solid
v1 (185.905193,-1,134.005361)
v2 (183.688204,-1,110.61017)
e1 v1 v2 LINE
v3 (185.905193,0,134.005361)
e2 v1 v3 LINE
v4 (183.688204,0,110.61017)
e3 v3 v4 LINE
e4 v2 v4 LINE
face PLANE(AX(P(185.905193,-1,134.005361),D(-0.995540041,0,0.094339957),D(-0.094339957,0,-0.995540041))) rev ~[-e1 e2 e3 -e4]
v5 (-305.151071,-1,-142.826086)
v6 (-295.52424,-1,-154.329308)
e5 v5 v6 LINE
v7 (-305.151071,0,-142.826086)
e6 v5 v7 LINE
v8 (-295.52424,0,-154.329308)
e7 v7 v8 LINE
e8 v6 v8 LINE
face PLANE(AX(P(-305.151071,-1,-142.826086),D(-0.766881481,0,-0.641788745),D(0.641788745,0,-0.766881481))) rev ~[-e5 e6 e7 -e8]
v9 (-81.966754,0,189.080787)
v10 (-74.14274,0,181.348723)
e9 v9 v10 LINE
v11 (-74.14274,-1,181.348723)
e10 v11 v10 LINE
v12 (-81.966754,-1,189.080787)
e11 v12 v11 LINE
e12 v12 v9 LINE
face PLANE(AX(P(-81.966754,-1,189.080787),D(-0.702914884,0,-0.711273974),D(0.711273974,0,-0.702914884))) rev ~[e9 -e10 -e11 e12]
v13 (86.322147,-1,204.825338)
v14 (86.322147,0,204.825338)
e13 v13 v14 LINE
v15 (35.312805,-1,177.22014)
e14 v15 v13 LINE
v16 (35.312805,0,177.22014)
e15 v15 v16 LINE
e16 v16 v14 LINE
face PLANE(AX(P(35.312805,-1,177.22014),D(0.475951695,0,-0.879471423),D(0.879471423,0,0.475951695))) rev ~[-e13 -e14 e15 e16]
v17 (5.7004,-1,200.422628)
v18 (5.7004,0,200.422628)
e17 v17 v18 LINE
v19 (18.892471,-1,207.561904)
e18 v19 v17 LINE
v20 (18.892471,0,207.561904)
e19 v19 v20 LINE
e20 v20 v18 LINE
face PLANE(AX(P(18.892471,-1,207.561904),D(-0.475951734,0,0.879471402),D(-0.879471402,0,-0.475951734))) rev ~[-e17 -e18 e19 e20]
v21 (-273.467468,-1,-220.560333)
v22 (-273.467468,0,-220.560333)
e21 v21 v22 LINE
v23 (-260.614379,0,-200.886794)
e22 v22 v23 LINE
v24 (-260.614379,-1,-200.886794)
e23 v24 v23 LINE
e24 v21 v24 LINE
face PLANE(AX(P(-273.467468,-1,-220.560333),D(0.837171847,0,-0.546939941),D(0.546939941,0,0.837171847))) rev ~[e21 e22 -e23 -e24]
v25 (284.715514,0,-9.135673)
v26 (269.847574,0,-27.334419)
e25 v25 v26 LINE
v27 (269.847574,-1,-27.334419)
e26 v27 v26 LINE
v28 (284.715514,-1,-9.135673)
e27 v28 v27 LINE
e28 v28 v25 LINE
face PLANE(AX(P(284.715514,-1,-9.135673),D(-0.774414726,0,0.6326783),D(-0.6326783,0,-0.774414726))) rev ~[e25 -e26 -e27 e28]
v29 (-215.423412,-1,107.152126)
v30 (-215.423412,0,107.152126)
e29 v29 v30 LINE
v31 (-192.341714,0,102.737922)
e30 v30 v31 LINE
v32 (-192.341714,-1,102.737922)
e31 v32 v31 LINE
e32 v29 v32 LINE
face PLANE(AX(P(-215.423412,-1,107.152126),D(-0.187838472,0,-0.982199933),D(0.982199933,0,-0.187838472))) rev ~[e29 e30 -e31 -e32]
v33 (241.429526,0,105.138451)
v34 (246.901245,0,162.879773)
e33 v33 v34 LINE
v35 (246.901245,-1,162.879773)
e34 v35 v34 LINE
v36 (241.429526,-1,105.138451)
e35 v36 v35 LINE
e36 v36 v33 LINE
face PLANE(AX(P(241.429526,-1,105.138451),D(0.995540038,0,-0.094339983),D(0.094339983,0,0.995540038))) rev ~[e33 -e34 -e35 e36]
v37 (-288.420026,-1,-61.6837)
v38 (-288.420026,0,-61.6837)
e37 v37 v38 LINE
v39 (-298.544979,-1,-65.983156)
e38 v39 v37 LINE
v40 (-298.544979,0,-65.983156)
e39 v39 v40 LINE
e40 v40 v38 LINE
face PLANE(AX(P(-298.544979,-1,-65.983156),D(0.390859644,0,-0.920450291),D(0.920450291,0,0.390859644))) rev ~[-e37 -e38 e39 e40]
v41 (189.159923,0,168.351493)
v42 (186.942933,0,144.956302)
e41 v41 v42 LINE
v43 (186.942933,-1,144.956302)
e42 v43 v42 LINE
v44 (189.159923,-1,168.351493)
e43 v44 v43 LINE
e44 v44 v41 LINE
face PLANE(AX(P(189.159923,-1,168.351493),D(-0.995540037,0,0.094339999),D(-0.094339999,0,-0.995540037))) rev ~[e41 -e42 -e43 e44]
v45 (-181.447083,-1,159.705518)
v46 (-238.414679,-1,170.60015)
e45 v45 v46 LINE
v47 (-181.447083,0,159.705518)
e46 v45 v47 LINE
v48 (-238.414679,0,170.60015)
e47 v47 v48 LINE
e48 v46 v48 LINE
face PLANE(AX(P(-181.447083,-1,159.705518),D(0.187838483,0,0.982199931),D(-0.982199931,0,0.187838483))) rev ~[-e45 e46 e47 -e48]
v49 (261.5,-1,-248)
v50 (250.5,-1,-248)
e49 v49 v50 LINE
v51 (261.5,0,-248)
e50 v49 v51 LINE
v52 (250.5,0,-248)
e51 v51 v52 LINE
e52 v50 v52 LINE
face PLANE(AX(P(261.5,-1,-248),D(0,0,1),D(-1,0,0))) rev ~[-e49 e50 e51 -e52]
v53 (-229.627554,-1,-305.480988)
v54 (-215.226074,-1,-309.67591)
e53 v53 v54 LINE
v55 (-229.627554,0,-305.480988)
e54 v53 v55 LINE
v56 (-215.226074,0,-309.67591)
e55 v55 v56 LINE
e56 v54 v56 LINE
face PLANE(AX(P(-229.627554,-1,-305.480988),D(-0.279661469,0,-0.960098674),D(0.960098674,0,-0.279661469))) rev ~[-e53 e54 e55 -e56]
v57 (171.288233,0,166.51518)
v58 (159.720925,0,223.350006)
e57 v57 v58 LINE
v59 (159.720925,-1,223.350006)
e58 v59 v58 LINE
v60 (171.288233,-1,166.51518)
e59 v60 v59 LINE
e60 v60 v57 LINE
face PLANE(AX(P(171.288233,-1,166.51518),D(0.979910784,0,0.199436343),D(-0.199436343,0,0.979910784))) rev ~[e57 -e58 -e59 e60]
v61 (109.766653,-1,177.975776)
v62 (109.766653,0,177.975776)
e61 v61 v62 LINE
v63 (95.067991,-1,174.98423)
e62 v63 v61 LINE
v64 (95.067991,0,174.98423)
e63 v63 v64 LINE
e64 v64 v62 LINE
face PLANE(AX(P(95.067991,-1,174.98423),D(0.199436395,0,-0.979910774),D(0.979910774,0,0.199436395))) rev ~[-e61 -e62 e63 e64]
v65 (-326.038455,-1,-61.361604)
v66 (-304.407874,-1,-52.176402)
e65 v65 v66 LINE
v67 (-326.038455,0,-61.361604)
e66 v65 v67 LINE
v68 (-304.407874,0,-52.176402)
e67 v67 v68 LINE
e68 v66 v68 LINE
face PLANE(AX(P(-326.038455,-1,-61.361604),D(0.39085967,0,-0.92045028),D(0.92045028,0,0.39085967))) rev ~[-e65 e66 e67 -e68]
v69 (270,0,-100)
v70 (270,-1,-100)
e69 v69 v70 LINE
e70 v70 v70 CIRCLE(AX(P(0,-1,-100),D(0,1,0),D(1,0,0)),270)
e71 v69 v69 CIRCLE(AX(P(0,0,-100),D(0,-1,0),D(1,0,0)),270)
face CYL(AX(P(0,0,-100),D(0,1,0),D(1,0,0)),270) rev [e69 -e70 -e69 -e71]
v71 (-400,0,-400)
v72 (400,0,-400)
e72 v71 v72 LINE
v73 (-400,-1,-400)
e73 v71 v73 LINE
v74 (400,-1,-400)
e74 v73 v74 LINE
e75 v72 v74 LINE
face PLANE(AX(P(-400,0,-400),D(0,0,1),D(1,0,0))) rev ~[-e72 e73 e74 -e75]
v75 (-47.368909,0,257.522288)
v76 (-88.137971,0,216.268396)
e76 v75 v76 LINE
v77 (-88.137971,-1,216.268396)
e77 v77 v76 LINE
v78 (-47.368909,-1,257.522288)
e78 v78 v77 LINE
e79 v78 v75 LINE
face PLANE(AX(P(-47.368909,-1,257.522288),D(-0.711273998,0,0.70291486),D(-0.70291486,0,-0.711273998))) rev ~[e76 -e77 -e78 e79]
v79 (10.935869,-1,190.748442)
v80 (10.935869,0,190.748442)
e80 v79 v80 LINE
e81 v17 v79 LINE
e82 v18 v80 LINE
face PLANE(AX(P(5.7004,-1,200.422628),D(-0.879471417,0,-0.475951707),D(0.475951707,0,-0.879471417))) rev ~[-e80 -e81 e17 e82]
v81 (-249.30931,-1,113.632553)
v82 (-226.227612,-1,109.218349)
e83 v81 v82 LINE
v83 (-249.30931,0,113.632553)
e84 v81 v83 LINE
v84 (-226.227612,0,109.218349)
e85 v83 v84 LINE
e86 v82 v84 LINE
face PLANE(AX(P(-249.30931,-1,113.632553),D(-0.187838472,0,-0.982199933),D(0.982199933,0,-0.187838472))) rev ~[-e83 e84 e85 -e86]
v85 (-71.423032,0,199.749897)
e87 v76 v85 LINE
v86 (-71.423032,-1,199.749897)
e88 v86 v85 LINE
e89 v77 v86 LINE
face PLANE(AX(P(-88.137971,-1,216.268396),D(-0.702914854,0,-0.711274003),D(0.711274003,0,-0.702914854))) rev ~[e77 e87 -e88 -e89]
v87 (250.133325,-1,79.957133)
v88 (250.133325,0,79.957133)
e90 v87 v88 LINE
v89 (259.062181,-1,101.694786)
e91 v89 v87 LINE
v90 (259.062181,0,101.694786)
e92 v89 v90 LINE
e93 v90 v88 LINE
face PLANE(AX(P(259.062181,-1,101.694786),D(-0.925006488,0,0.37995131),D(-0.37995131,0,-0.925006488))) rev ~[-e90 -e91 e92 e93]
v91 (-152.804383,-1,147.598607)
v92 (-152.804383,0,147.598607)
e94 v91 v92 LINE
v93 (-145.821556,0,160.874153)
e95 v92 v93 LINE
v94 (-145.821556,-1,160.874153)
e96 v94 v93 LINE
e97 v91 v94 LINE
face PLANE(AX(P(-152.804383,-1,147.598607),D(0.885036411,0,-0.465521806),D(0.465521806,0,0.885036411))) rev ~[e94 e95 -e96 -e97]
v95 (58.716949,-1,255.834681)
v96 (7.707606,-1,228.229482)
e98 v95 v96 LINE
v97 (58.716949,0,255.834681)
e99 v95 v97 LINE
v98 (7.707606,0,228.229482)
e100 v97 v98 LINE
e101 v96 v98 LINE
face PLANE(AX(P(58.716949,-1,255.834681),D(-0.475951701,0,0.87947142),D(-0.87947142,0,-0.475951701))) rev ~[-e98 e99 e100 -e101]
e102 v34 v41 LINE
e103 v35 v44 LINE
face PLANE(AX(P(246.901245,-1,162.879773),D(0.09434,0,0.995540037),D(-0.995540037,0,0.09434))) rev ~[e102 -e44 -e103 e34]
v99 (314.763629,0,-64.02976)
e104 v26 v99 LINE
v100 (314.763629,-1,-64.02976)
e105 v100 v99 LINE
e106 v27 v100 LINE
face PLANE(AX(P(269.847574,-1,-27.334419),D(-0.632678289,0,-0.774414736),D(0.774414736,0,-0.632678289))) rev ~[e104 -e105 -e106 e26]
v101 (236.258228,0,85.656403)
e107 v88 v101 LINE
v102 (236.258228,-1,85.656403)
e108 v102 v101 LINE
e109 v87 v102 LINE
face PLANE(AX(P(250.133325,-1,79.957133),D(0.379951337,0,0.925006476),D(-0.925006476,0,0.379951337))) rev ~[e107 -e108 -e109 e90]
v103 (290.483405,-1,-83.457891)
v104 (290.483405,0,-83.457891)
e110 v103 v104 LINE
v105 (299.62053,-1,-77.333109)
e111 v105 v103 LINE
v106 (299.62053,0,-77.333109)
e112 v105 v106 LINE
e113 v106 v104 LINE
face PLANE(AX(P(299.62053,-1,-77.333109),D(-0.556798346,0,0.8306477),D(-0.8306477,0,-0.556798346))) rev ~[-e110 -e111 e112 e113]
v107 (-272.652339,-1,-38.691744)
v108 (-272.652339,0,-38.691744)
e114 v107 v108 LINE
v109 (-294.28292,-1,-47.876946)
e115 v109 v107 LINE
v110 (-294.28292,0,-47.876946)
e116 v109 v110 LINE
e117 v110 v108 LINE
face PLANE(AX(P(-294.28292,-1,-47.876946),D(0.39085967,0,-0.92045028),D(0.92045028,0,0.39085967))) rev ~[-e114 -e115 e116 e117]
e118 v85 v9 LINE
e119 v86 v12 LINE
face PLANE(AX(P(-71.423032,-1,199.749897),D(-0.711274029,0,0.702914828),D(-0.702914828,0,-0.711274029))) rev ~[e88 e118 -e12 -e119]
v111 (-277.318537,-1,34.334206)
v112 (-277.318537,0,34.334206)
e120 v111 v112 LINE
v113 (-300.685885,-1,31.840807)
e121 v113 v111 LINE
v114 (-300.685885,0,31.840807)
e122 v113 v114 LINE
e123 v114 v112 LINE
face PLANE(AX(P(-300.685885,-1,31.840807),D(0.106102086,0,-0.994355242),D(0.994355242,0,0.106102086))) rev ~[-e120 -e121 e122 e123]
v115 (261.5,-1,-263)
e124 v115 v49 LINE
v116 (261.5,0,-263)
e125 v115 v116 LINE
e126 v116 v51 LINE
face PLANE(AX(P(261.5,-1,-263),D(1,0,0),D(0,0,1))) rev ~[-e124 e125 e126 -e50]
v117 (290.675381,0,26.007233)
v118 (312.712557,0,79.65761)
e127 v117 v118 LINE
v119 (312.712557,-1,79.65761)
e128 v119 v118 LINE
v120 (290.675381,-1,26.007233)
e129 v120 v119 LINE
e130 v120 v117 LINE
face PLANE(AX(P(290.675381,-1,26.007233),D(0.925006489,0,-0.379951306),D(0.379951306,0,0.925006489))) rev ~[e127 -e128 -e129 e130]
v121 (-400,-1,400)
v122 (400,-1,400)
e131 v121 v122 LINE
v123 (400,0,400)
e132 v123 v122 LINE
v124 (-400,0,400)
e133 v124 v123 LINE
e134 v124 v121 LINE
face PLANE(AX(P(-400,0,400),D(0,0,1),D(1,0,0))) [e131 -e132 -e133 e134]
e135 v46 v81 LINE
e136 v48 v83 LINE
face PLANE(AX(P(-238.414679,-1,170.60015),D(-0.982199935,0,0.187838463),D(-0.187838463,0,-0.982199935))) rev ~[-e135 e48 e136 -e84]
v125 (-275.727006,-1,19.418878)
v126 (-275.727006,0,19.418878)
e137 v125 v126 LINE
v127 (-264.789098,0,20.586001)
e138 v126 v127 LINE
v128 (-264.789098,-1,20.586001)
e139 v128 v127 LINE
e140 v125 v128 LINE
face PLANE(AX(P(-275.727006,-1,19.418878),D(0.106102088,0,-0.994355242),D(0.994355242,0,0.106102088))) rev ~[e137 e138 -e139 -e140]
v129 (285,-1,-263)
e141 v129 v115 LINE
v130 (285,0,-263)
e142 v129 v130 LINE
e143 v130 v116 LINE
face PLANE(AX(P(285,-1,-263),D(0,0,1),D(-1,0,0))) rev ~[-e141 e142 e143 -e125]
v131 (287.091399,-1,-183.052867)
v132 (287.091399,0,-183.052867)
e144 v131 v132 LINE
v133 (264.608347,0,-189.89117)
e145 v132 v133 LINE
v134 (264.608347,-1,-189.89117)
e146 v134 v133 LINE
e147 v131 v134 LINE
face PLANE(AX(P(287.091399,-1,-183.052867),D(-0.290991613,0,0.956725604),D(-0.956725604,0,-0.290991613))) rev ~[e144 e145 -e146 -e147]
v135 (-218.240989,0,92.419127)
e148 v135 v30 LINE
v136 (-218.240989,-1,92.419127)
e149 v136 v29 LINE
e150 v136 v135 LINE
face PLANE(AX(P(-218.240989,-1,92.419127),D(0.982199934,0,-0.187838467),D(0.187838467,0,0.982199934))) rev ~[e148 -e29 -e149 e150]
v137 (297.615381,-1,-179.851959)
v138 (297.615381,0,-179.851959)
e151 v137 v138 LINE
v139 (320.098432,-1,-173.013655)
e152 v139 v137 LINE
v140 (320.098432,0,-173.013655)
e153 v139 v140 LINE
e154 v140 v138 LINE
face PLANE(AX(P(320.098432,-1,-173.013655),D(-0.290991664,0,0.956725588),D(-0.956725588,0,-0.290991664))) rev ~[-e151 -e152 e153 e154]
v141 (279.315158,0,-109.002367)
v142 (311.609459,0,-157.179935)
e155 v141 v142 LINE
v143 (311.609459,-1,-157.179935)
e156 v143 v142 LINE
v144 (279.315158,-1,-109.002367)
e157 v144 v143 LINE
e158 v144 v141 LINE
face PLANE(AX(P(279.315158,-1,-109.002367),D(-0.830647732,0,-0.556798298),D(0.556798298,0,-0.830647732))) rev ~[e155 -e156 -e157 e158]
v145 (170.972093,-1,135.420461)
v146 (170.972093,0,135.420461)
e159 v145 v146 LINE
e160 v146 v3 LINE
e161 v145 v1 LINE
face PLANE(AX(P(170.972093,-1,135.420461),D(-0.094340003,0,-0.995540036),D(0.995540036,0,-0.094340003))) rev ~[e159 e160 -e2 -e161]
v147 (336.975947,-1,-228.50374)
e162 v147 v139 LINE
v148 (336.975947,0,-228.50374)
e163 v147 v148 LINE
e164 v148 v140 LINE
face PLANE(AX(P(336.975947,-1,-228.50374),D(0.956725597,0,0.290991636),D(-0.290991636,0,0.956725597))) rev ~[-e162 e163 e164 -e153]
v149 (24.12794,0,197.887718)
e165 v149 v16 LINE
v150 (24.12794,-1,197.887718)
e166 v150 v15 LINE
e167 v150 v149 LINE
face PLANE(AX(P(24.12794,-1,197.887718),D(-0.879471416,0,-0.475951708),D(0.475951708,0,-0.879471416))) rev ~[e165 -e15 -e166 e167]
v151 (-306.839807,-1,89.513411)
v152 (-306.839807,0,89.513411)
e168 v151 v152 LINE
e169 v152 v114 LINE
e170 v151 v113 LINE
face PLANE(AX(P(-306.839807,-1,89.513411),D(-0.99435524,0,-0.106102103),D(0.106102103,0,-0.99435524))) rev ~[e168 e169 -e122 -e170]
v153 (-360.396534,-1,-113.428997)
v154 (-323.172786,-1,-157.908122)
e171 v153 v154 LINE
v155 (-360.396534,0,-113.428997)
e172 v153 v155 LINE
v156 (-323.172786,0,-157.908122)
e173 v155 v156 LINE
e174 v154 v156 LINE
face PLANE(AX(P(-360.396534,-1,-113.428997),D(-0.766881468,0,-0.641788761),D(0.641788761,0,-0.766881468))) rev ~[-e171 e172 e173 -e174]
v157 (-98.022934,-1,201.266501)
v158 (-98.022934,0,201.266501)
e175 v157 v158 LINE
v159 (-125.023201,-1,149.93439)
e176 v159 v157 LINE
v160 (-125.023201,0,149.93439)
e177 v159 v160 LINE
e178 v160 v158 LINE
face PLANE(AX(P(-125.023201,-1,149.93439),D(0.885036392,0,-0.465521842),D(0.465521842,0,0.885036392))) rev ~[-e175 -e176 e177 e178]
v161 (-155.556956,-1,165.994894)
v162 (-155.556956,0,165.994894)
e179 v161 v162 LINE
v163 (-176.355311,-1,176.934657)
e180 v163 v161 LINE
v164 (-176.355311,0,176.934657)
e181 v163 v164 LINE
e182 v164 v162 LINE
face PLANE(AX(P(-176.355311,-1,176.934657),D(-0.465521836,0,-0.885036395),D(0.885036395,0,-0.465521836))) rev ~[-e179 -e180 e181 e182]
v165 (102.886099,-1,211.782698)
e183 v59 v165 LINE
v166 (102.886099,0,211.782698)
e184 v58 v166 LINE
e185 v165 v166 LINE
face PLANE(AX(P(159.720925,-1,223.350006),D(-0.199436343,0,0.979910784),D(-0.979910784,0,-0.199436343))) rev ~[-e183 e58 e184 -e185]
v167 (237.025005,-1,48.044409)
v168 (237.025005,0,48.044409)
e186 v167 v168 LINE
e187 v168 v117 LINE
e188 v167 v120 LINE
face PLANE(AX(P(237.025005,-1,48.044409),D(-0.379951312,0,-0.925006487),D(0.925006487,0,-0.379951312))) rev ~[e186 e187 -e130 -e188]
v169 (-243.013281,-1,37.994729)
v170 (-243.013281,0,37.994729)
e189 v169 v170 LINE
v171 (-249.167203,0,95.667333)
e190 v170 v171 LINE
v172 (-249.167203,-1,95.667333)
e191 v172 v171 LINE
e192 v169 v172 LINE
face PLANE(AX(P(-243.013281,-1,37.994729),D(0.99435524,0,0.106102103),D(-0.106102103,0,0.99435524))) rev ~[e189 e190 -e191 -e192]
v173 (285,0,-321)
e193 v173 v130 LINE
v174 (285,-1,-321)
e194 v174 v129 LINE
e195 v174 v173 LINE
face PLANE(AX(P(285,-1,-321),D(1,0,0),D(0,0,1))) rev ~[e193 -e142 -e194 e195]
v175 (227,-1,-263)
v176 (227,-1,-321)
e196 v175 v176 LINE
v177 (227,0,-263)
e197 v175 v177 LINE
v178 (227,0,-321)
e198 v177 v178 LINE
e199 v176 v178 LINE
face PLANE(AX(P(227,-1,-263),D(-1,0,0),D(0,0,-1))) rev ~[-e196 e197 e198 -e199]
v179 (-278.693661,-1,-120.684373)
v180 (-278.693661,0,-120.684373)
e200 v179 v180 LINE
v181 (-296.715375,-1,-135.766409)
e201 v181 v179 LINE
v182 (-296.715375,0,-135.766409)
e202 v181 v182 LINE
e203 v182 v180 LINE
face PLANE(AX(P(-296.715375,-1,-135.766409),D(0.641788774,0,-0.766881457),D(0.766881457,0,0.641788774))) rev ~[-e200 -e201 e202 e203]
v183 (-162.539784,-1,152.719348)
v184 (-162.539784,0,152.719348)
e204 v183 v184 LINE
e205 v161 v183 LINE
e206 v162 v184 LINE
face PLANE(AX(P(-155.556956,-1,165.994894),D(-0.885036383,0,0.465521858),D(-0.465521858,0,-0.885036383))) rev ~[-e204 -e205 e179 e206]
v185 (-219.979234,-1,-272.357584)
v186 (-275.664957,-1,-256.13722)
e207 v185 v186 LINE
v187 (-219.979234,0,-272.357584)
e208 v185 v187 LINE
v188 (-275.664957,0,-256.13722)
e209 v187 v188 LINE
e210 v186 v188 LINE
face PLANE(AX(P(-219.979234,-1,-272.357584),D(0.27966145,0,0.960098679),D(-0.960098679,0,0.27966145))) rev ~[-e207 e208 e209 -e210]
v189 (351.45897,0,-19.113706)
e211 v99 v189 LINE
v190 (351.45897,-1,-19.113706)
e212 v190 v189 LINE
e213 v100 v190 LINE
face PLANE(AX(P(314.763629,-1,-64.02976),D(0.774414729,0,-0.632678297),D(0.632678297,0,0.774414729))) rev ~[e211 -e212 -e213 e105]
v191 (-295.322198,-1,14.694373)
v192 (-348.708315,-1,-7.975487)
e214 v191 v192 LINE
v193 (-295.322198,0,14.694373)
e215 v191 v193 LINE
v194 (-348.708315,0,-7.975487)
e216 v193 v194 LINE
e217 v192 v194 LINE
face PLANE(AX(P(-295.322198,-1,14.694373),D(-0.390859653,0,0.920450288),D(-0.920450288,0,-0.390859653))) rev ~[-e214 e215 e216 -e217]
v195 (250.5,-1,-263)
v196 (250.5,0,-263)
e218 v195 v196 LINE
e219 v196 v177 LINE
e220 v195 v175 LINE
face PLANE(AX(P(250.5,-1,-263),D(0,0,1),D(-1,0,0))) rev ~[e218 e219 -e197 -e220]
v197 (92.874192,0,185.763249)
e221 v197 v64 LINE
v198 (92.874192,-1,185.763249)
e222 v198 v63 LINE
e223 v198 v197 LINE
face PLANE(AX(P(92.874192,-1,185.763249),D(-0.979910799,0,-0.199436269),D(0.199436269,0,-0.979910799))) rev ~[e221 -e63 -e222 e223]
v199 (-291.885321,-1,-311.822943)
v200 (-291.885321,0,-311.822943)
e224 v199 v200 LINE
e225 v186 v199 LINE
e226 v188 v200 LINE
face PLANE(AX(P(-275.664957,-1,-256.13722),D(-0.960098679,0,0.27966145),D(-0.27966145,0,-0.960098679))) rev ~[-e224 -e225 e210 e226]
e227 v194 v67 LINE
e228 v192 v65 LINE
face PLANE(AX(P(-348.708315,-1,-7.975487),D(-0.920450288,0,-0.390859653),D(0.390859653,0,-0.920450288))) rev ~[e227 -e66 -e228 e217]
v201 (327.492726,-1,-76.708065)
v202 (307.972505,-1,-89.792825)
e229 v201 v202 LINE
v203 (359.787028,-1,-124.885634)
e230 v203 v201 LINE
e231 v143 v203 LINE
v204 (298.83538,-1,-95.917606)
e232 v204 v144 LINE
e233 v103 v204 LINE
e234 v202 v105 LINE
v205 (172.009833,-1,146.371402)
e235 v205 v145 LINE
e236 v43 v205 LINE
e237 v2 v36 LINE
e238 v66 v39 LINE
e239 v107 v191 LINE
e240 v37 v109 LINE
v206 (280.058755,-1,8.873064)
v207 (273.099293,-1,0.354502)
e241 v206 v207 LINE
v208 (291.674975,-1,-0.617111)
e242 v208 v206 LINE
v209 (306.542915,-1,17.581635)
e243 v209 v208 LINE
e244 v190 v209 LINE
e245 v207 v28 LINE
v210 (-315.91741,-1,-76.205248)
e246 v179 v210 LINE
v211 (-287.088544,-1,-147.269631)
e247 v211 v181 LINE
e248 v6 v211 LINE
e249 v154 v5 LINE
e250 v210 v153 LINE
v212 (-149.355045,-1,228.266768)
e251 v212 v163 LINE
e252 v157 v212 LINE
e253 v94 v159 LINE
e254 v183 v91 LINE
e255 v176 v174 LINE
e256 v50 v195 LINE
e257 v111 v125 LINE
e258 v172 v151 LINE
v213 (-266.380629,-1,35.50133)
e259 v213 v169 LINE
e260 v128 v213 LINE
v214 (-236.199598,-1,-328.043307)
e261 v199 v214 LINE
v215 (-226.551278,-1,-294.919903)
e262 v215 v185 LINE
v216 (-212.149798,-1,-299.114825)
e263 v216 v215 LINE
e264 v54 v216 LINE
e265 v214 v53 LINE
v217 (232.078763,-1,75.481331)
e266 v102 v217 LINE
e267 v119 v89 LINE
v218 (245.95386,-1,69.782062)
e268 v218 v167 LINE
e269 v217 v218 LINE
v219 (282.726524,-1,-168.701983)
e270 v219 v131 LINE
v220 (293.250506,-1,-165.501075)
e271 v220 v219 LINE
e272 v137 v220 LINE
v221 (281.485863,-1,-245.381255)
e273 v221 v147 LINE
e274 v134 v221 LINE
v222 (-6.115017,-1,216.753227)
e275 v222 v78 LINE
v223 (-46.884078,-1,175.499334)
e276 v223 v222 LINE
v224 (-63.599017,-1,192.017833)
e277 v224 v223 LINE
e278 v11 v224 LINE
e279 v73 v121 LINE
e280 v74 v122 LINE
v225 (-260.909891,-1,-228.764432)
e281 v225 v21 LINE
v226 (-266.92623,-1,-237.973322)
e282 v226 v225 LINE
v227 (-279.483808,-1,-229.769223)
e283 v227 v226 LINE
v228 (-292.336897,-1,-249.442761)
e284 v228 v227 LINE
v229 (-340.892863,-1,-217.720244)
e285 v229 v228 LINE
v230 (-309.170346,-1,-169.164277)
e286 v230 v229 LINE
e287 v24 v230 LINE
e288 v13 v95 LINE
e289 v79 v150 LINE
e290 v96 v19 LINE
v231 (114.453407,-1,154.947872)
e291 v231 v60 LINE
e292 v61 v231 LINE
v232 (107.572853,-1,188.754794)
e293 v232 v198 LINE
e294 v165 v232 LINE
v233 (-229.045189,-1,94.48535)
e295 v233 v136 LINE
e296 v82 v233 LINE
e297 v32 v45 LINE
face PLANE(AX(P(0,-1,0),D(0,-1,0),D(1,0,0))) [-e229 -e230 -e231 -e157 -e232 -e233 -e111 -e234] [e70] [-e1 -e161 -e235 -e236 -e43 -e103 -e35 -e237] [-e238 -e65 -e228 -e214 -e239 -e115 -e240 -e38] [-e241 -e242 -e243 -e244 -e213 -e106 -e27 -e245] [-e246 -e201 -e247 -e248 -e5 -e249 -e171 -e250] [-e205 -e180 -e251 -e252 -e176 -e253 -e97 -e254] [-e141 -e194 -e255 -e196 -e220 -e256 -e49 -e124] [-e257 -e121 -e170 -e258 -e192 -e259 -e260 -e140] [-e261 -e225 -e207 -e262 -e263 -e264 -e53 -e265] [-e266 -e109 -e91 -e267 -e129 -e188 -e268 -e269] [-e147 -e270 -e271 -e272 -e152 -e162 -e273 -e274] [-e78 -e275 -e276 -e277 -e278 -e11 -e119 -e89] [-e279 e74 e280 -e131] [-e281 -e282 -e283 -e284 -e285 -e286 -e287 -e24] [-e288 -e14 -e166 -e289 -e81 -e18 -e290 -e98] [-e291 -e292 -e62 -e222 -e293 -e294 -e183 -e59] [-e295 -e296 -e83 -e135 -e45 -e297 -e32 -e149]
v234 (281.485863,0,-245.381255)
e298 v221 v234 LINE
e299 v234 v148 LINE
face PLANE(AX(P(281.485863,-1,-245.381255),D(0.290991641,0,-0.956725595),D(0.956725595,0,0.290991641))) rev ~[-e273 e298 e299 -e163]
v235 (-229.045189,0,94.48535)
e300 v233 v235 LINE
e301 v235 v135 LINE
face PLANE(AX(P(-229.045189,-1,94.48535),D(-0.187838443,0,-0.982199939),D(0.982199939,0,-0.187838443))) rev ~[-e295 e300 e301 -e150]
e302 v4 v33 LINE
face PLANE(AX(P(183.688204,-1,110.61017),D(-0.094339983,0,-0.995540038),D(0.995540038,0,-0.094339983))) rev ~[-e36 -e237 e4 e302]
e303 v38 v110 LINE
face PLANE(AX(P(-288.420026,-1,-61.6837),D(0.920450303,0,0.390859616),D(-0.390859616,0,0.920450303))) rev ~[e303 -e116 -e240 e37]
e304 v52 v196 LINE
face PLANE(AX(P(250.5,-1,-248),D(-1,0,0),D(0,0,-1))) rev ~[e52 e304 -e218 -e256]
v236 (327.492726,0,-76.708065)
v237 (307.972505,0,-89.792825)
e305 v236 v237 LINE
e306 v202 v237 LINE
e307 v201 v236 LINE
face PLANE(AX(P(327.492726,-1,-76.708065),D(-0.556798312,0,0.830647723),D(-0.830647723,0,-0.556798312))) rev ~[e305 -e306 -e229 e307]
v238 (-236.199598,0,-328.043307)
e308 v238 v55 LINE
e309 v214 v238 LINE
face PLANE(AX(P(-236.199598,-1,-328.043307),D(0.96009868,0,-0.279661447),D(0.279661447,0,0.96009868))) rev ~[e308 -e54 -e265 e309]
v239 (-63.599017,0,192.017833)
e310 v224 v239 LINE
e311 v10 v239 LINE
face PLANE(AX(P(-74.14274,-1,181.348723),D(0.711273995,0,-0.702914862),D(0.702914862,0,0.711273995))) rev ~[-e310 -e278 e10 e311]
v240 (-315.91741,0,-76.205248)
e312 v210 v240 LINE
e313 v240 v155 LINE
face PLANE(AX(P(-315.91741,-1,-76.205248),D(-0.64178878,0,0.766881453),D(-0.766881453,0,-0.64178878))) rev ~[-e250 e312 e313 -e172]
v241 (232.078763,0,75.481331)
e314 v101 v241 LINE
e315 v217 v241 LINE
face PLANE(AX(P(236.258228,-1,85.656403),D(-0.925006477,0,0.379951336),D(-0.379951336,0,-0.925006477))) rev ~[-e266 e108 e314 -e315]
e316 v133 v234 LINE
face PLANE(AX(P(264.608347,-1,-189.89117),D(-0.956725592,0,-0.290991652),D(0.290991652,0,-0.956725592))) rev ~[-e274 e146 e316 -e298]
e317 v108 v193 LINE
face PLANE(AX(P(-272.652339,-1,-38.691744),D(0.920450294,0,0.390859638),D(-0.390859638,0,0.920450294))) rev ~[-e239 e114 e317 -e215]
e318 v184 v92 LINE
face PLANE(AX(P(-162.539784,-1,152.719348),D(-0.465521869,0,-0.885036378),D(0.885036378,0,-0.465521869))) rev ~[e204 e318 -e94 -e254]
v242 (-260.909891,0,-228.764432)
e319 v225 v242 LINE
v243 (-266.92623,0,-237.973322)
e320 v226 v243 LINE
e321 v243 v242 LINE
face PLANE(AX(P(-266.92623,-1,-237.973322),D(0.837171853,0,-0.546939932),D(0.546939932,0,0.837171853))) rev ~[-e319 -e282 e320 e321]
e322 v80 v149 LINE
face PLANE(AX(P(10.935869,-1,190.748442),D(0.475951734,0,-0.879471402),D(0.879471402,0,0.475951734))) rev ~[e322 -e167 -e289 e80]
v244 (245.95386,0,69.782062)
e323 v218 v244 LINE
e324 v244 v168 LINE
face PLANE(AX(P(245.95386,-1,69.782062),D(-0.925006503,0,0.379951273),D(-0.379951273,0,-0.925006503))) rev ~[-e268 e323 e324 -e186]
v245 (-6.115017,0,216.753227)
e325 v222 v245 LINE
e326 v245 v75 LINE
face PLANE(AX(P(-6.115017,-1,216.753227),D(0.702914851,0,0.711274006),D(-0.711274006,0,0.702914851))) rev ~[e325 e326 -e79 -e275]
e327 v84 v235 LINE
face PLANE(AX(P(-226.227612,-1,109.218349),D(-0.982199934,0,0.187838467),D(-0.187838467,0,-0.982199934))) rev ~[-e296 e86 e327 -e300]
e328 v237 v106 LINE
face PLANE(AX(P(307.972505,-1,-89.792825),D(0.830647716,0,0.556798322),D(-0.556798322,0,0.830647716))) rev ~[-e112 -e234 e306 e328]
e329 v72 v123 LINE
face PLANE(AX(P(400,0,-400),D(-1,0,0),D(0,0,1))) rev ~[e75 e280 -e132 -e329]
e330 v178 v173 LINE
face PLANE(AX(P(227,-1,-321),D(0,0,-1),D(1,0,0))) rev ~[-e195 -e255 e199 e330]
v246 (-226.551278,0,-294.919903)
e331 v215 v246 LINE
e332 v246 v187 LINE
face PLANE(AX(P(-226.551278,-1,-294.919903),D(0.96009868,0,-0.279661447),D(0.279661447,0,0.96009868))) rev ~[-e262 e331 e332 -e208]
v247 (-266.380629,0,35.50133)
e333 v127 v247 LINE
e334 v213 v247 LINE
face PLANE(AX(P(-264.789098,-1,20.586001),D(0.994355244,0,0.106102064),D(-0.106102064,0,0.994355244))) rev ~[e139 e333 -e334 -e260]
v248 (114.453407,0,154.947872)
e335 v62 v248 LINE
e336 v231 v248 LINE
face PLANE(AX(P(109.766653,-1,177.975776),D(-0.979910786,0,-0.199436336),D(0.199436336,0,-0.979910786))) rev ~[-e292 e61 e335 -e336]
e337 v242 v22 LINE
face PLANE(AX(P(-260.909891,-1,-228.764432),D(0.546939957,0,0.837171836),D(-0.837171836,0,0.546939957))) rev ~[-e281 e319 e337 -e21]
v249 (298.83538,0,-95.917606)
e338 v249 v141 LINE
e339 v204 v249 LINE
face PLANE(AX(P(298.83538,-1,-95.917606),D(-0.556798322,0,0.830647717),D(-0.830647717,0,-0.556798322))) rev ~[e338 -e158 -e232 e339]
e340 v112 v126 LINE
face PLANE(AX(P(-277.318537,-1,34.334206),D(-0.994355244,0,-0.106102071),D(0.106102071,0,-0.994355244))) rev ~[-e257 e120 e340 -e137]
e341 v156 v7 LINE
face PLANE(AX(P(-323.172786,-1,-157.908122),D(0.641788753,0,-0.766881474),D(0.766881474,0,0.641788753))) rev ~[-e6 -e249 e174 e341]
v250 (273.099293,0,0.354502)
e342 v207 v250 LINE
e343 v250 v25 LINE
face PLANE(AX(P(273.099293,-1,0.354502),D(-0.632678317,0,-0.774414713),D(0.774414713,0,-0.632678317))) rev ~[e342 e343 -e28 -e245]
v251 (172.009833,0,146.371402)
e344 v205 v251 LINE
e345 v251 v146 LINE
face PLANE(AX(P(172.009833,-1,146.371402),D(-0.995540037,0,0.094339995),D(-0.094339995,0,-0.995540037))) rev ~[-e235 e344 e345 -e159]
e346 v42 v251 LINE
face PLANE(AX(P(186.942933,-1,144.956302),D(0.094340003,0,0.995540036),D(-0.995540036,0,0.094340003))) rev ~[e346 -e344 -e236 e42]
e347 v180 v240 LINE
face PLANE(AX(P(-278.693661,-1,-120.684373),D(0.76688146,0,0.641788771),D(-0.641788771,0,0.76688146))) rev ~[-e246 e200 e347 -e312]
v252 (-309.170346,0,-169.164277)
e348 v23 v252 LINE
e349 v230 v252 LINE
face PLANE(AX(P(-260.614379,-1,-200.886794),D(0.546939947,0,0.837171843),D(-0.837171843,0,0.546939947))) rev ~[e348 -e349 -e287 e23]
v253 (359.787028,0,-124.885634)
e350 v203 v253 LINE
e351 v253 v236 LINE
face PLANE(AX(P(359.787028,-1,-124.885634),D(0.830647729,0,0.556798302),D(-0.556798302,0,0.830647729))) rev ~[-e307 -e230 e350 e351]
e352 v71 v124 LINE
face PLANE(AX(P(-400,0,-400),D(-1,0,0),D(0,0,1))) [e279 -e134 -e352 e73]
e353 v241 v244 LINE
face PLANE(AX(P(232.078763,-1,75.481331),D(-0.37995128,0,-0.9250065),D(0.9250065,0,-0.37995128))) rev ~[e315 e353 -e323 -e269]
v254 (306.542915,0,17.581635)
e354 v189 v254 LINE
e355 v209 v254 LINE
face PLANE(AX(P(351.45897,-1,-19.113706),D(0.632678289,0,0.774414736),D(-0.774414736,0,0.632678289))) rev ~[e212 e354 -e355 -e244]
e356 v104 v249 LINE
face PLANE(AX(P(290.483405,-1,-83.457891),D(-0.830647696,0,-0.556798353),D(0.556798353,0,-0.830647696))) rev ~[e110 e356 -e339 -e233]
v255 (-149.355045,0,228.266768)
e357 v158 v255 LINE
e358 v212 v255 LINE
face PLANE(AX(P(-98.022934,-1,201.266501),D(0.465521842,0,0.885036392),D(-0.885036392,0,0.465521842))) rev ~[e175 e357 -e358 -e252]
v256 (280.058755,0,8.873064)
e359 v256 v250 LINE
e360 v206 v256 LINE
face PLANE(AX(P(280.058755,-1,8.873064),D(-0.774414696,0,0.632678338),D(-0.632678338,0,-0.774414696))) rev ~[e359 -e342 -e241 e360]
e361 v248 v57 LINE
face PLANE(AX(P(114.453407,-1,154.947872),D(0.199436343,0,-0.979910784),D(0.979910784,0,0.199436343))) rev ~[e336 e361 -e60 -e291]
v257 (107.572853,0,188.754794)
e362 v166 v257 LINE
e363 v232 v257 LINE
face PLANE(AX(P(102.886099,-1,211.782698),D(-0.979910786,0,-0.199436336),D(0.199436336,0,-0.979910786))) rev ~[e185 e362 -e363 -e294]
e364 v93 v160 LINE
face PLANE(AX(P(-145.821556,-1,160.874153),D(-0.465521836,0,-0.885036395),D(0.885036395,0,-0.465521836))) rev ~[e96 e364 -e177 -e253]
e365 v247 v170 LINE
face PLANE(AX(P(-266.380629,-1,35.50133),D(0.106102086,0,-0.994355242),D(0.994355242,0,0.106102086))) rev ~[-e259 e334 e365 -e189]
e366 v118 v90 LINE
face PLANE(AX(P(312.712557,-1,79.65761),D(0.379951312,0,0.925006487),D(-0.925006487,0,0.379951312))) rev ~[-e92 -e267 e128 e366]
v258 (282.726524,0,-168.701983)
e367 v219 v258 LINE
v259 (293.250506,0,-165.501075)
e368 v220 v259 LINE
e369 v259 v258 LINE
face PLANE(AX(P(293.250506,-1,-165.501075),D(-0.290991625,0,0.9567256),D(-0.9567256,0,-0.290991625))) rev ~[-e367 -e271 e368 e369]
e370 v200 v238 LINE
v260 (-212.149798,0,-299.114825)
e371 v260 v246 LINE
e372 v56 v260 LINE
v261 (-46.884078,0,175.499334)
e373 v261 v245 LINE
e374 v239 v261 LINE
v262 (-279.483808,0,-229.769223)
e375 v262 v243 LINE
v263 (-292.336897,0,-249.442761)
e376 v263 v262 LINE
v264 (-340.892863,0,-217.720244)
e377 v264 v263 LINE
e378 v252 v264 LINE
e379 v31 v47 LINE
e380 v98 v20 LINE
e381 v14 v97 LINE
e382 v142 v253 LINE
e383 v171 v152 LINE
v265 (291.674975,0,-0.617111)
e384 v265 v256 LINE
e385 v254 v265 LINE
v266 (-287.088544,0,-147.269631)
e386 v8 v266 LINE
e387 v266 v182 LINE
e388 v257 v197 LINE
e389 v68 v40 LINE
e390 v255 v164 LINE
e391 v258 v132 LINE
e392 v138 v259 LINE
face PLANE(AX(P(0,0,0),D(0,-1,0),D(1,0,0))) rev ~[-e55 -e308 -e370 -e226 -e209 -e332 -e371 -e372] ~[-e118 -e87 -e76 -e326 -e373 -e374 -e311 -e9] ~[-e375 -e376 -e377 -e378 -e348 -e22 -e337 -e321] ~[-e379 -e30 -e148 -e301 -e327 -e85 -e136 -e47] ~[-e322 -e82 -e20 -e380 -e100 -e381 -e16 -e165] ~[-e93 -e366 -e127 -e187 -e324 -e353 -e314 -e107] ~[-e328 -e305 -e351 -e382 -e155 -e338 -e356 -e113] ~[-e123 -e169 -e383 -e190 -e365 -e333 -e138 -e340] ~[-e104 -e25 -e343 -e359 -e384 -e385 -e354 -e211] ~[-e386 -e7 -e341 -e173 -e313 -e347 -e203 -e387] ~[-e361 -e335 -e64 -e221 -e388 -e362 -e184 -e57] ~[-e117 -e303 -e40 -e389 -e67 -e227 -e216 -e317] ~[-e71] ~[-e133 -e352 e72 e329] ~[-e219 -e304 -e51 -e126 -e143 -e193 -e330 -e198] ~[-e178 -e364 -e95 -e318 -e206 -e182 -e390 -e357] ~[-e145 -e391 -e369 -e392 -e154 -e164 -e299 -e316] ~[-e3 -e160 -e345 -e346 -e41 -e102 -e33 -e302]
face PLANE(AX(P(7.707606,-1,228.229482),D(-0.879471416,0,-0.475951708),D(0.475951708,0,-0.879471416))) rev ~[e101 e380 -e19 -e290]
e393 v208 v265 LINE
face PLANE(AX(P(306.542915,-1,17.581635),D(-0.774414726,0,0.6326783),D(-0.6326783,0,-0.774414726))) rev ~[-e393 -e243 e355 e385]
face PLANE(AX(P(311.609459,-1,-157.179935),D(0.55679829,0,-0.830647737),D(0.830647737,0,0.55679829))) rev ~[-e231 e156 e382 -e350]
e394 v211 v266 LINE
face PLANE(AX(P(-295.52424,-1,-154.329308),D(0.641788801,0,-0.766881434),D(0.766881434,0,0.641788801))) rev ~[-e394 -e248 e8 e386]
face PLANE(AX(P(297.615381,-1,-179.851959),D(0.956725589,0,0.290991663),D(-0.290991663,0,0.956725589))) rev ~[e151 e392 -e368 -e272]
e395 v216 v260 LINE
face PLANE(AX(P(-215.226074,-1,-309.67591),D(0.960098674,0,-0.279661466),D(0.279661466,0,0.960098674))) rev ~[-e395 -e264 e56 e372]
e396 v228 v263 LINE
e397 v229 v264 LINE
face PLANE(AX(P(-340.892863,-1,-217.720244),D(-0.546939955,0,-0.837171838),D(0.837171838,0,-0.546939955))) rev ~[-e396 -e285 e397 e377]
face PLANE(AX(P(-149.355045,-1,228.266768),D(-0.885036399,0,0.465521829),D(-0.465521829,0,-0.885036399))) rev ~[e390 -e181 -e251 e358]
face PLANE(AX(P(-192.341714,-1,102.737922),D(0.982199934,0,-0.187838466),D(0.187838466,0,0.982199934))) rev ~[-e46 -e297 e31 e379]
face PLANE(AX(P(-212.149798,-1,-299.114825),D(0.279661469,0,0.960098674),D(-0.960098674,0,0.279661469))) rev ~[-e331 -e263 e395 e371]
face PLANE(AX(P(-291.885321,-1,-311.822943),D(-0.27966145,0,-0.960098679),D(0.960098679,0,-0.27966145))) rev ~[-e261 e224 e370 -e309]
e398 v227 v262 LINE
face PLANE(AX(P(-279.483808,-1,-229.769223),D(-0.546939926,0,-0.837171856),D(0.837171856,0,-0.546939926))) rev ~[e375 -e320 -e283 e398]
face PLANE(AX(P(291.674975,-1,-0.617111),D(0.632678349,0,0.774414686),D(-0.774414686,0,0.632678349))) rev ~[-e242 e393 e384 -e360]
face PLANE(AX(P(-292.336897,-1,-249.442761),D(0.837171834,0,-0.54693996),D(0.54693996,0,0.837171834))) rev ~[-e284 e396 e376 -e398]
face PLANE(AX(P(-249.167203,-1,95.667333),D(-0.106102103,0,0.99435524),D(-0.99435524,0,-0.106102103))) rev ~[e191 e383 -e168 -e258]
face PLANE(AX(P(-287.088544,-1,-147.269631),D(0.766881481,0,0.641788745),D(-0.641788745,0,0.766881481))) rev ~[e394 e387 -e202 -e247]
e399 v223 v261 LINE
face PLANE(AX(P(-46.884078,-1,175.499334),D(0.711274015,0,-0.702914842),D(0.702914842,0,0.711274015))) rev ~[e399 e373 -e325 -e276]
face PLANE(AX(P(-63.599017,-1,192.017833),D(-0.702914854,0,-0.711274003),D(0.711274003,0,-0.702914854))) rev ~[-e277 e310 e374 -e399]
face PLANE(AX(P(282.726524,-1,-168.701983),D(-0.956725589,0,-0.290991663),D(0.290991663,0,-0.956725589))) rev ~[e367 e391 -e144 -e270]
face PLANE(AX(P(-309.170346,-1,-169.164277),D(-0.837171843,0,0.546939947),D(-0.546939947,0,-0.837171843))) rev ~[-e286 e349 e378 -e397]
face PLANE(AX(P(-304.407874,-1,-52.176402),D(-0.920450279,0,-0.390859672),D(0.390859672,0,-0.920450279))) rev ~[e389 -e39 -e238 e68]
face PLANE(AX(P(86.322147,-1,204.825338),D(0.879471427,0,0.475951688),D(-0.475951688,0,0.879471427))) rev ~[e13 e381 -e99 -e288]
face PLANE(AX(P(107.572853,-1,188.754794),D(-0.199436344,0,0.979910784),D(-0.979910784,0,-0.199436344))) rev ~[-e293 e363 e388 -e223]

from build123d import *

# Parameters (mm, degrees)
F0_W     = 800
F0_H     = 800
F1_DEPTH = 1
F2_R     = 270
F3_DEPTH = 3
F5_DEPTH = 1


with BuildPart() as f1:
    # F0 (on Front) → F1 (new body)
    with BuildSketch(Plane.XZ):
        Rectangle(F0_W, F0_H)
    extrude(amount=F1_DEPTH)

    # F2 (on Front) → F3 (cut)
    with BuildSketch(Plane.XZ):
        with Locations((0, -100)):
            Circle(F2_R)
    extrude(amount=F3_DEPTH, mode=Mode.SUBTRACT)

    # F4 (on face) → F5 (cut, through all)
    with BuildSketch(Plane.XZ.offset(1)):
        Polygon((250.5, -263), (227, -263), (227, -321), (285, -321), (285, -263), (261.5, -263), (261.5, -248), (250.5, -248), align=None)
        Polygon((320.098432, -173.013655), (297.615381, -179.851959), (293.250506, -165.501075), (282.726524, -168.701983), (287.091399, -183.052867), (264.608347, -189.89117), (281.485863, -245.381255), (336.975947, -228.50374), align=None)
        Polygon((327.492726, -76.708065), (307.972505, -89.792825), (299.62053, -77.333109), (290.483405, -83.457891), (298.83538, -95.917606), (279.315158, -109.002367), (311.609459, -157.179935), (359.787028, -124.885634), align=None)
        Polygon((306.542915, 17.581635), (291.674975, -0.617111), (280.058755, 8.873064), (273.099293, 0.354502), (284.715514, -9.135673), (269.847574, -27.334419), (314.763629, -64.02976), (351.45897, -19.113706), align=None)
        Polygon((259.062181, 101.694786), (250.133325, 79.957133), (236.258228, 85.656403), (232.078763, 75.481331), (245.95386, 69.782062), (237.025005, 48.044409), (290.675381, 26.007233), (312.712557, 79.65761), align=None)
        Polygon((189.159923, 168.351493), (186.942933, 144.956302), (172.009833, 146.371402), (170.972093, 135.420461), (185.905193, 134.005361), (183.688204, 110.61017), (241.429526, 105.138451), (246.901245, 162.879773), align=None)
        Polygon((102.886099, 211.782698), (107.572853, 188.754794), (92.874192, 185.763249), (95.067991, 174.98423), (109.766653, 177.975776), (114.453407, 154.947872), (171.288233, 166.51518), (159.720925, 223.350006), align=None)
        Polygon((7.707606, 228.229482), (18.892471, 207.561904), (5.7004, 200.422628), (10.935869, 190.748442), (24.12794, 197.887718), (35.312805, 177.22014), (86.322147, 204.825338), (58.716949, 255.834681), align=None)
        Polygon((-88.137971, 216.268396), (-71.423032, 199.749897), (-81.966754, 189.080787), (-74.14274, 181.348723), (-63.599017, 192.017833), (-46.884078, 175.499334), (-6.115017, 216.753227), (-47.368909, 257.522288), align=None)
        Polygon((-176.355311, 176.934657), (-155.556956, 165.994894), (-162.539784, 152.719348), (-152.804383, 147.598607), (-145.821556, 160.874153), (-125.023201, 149.93439), (-98.022934, 201.266501), (-149.355045, 228.266768), align=None)
        Polygon((-249.30931, 113.632553), (-226.227612, 109.218349), (-229.045189, 94.48535), (-218.240989, 92.419127), (-215.423412, 107.152126), (-192.341714, 102.737922), (-181.447083, 159.705518), (-238.414679, 170.60015), align=None)
        Polygon((-300.685885, 31.840807), (-277.318537, 34.334206), (-275.727006, 19.418878), (-264.789098, 20.586001), (-266.380629, 35.50133), (-243.013281, 37.994729), (-249.167203, 95.667333), (-306.839807, 89.513411), align=None)
        Polygon((-326.038455, -61.361604), (-304.407874, -52.176402), (-298.544979, -65.983156), (-288.420026, -61.6837), (-294.28292, -47.876946), (-272.652339, -38.691744), (-295.322198, 14.694373), (-348.708315, -7.975487), align=None)
        Polygon((-323.172786, -157.908122), (-305.151071, -142.826086), (-295.52424, -154.329308), (-287.088544, -147.269631), (-296.715375, -135.766409), (-278.693661, -120.684373), (-315.91741, -76.205248), (-360.396534, -113.428997), align=None)
        Polygon((-292.336897, -249.442761), (-279.483808, -229.769223), (-266.92623, -237.973322), (-260.909891, -228.764432), (-273.467468, -220.560333), (-260.614379, -200.886794), (-309.170346, -169.164277), (-340.892863, -217.720244), align=None)
        Polygon((-236.199598, -328.043307), (-229.627554, -305.480988), (-215.226074, -309.67591), (-212.149798, -299.114825), (-226.551278, -294.919903), (-219.979234, -272.357584), (-275.664957, -256.13722), (-291.885321, -311.822943), align=None)
    extrude(amount=-F5_DEPTH, mode=Mode.SUBTRACT)


solid = f1.part
